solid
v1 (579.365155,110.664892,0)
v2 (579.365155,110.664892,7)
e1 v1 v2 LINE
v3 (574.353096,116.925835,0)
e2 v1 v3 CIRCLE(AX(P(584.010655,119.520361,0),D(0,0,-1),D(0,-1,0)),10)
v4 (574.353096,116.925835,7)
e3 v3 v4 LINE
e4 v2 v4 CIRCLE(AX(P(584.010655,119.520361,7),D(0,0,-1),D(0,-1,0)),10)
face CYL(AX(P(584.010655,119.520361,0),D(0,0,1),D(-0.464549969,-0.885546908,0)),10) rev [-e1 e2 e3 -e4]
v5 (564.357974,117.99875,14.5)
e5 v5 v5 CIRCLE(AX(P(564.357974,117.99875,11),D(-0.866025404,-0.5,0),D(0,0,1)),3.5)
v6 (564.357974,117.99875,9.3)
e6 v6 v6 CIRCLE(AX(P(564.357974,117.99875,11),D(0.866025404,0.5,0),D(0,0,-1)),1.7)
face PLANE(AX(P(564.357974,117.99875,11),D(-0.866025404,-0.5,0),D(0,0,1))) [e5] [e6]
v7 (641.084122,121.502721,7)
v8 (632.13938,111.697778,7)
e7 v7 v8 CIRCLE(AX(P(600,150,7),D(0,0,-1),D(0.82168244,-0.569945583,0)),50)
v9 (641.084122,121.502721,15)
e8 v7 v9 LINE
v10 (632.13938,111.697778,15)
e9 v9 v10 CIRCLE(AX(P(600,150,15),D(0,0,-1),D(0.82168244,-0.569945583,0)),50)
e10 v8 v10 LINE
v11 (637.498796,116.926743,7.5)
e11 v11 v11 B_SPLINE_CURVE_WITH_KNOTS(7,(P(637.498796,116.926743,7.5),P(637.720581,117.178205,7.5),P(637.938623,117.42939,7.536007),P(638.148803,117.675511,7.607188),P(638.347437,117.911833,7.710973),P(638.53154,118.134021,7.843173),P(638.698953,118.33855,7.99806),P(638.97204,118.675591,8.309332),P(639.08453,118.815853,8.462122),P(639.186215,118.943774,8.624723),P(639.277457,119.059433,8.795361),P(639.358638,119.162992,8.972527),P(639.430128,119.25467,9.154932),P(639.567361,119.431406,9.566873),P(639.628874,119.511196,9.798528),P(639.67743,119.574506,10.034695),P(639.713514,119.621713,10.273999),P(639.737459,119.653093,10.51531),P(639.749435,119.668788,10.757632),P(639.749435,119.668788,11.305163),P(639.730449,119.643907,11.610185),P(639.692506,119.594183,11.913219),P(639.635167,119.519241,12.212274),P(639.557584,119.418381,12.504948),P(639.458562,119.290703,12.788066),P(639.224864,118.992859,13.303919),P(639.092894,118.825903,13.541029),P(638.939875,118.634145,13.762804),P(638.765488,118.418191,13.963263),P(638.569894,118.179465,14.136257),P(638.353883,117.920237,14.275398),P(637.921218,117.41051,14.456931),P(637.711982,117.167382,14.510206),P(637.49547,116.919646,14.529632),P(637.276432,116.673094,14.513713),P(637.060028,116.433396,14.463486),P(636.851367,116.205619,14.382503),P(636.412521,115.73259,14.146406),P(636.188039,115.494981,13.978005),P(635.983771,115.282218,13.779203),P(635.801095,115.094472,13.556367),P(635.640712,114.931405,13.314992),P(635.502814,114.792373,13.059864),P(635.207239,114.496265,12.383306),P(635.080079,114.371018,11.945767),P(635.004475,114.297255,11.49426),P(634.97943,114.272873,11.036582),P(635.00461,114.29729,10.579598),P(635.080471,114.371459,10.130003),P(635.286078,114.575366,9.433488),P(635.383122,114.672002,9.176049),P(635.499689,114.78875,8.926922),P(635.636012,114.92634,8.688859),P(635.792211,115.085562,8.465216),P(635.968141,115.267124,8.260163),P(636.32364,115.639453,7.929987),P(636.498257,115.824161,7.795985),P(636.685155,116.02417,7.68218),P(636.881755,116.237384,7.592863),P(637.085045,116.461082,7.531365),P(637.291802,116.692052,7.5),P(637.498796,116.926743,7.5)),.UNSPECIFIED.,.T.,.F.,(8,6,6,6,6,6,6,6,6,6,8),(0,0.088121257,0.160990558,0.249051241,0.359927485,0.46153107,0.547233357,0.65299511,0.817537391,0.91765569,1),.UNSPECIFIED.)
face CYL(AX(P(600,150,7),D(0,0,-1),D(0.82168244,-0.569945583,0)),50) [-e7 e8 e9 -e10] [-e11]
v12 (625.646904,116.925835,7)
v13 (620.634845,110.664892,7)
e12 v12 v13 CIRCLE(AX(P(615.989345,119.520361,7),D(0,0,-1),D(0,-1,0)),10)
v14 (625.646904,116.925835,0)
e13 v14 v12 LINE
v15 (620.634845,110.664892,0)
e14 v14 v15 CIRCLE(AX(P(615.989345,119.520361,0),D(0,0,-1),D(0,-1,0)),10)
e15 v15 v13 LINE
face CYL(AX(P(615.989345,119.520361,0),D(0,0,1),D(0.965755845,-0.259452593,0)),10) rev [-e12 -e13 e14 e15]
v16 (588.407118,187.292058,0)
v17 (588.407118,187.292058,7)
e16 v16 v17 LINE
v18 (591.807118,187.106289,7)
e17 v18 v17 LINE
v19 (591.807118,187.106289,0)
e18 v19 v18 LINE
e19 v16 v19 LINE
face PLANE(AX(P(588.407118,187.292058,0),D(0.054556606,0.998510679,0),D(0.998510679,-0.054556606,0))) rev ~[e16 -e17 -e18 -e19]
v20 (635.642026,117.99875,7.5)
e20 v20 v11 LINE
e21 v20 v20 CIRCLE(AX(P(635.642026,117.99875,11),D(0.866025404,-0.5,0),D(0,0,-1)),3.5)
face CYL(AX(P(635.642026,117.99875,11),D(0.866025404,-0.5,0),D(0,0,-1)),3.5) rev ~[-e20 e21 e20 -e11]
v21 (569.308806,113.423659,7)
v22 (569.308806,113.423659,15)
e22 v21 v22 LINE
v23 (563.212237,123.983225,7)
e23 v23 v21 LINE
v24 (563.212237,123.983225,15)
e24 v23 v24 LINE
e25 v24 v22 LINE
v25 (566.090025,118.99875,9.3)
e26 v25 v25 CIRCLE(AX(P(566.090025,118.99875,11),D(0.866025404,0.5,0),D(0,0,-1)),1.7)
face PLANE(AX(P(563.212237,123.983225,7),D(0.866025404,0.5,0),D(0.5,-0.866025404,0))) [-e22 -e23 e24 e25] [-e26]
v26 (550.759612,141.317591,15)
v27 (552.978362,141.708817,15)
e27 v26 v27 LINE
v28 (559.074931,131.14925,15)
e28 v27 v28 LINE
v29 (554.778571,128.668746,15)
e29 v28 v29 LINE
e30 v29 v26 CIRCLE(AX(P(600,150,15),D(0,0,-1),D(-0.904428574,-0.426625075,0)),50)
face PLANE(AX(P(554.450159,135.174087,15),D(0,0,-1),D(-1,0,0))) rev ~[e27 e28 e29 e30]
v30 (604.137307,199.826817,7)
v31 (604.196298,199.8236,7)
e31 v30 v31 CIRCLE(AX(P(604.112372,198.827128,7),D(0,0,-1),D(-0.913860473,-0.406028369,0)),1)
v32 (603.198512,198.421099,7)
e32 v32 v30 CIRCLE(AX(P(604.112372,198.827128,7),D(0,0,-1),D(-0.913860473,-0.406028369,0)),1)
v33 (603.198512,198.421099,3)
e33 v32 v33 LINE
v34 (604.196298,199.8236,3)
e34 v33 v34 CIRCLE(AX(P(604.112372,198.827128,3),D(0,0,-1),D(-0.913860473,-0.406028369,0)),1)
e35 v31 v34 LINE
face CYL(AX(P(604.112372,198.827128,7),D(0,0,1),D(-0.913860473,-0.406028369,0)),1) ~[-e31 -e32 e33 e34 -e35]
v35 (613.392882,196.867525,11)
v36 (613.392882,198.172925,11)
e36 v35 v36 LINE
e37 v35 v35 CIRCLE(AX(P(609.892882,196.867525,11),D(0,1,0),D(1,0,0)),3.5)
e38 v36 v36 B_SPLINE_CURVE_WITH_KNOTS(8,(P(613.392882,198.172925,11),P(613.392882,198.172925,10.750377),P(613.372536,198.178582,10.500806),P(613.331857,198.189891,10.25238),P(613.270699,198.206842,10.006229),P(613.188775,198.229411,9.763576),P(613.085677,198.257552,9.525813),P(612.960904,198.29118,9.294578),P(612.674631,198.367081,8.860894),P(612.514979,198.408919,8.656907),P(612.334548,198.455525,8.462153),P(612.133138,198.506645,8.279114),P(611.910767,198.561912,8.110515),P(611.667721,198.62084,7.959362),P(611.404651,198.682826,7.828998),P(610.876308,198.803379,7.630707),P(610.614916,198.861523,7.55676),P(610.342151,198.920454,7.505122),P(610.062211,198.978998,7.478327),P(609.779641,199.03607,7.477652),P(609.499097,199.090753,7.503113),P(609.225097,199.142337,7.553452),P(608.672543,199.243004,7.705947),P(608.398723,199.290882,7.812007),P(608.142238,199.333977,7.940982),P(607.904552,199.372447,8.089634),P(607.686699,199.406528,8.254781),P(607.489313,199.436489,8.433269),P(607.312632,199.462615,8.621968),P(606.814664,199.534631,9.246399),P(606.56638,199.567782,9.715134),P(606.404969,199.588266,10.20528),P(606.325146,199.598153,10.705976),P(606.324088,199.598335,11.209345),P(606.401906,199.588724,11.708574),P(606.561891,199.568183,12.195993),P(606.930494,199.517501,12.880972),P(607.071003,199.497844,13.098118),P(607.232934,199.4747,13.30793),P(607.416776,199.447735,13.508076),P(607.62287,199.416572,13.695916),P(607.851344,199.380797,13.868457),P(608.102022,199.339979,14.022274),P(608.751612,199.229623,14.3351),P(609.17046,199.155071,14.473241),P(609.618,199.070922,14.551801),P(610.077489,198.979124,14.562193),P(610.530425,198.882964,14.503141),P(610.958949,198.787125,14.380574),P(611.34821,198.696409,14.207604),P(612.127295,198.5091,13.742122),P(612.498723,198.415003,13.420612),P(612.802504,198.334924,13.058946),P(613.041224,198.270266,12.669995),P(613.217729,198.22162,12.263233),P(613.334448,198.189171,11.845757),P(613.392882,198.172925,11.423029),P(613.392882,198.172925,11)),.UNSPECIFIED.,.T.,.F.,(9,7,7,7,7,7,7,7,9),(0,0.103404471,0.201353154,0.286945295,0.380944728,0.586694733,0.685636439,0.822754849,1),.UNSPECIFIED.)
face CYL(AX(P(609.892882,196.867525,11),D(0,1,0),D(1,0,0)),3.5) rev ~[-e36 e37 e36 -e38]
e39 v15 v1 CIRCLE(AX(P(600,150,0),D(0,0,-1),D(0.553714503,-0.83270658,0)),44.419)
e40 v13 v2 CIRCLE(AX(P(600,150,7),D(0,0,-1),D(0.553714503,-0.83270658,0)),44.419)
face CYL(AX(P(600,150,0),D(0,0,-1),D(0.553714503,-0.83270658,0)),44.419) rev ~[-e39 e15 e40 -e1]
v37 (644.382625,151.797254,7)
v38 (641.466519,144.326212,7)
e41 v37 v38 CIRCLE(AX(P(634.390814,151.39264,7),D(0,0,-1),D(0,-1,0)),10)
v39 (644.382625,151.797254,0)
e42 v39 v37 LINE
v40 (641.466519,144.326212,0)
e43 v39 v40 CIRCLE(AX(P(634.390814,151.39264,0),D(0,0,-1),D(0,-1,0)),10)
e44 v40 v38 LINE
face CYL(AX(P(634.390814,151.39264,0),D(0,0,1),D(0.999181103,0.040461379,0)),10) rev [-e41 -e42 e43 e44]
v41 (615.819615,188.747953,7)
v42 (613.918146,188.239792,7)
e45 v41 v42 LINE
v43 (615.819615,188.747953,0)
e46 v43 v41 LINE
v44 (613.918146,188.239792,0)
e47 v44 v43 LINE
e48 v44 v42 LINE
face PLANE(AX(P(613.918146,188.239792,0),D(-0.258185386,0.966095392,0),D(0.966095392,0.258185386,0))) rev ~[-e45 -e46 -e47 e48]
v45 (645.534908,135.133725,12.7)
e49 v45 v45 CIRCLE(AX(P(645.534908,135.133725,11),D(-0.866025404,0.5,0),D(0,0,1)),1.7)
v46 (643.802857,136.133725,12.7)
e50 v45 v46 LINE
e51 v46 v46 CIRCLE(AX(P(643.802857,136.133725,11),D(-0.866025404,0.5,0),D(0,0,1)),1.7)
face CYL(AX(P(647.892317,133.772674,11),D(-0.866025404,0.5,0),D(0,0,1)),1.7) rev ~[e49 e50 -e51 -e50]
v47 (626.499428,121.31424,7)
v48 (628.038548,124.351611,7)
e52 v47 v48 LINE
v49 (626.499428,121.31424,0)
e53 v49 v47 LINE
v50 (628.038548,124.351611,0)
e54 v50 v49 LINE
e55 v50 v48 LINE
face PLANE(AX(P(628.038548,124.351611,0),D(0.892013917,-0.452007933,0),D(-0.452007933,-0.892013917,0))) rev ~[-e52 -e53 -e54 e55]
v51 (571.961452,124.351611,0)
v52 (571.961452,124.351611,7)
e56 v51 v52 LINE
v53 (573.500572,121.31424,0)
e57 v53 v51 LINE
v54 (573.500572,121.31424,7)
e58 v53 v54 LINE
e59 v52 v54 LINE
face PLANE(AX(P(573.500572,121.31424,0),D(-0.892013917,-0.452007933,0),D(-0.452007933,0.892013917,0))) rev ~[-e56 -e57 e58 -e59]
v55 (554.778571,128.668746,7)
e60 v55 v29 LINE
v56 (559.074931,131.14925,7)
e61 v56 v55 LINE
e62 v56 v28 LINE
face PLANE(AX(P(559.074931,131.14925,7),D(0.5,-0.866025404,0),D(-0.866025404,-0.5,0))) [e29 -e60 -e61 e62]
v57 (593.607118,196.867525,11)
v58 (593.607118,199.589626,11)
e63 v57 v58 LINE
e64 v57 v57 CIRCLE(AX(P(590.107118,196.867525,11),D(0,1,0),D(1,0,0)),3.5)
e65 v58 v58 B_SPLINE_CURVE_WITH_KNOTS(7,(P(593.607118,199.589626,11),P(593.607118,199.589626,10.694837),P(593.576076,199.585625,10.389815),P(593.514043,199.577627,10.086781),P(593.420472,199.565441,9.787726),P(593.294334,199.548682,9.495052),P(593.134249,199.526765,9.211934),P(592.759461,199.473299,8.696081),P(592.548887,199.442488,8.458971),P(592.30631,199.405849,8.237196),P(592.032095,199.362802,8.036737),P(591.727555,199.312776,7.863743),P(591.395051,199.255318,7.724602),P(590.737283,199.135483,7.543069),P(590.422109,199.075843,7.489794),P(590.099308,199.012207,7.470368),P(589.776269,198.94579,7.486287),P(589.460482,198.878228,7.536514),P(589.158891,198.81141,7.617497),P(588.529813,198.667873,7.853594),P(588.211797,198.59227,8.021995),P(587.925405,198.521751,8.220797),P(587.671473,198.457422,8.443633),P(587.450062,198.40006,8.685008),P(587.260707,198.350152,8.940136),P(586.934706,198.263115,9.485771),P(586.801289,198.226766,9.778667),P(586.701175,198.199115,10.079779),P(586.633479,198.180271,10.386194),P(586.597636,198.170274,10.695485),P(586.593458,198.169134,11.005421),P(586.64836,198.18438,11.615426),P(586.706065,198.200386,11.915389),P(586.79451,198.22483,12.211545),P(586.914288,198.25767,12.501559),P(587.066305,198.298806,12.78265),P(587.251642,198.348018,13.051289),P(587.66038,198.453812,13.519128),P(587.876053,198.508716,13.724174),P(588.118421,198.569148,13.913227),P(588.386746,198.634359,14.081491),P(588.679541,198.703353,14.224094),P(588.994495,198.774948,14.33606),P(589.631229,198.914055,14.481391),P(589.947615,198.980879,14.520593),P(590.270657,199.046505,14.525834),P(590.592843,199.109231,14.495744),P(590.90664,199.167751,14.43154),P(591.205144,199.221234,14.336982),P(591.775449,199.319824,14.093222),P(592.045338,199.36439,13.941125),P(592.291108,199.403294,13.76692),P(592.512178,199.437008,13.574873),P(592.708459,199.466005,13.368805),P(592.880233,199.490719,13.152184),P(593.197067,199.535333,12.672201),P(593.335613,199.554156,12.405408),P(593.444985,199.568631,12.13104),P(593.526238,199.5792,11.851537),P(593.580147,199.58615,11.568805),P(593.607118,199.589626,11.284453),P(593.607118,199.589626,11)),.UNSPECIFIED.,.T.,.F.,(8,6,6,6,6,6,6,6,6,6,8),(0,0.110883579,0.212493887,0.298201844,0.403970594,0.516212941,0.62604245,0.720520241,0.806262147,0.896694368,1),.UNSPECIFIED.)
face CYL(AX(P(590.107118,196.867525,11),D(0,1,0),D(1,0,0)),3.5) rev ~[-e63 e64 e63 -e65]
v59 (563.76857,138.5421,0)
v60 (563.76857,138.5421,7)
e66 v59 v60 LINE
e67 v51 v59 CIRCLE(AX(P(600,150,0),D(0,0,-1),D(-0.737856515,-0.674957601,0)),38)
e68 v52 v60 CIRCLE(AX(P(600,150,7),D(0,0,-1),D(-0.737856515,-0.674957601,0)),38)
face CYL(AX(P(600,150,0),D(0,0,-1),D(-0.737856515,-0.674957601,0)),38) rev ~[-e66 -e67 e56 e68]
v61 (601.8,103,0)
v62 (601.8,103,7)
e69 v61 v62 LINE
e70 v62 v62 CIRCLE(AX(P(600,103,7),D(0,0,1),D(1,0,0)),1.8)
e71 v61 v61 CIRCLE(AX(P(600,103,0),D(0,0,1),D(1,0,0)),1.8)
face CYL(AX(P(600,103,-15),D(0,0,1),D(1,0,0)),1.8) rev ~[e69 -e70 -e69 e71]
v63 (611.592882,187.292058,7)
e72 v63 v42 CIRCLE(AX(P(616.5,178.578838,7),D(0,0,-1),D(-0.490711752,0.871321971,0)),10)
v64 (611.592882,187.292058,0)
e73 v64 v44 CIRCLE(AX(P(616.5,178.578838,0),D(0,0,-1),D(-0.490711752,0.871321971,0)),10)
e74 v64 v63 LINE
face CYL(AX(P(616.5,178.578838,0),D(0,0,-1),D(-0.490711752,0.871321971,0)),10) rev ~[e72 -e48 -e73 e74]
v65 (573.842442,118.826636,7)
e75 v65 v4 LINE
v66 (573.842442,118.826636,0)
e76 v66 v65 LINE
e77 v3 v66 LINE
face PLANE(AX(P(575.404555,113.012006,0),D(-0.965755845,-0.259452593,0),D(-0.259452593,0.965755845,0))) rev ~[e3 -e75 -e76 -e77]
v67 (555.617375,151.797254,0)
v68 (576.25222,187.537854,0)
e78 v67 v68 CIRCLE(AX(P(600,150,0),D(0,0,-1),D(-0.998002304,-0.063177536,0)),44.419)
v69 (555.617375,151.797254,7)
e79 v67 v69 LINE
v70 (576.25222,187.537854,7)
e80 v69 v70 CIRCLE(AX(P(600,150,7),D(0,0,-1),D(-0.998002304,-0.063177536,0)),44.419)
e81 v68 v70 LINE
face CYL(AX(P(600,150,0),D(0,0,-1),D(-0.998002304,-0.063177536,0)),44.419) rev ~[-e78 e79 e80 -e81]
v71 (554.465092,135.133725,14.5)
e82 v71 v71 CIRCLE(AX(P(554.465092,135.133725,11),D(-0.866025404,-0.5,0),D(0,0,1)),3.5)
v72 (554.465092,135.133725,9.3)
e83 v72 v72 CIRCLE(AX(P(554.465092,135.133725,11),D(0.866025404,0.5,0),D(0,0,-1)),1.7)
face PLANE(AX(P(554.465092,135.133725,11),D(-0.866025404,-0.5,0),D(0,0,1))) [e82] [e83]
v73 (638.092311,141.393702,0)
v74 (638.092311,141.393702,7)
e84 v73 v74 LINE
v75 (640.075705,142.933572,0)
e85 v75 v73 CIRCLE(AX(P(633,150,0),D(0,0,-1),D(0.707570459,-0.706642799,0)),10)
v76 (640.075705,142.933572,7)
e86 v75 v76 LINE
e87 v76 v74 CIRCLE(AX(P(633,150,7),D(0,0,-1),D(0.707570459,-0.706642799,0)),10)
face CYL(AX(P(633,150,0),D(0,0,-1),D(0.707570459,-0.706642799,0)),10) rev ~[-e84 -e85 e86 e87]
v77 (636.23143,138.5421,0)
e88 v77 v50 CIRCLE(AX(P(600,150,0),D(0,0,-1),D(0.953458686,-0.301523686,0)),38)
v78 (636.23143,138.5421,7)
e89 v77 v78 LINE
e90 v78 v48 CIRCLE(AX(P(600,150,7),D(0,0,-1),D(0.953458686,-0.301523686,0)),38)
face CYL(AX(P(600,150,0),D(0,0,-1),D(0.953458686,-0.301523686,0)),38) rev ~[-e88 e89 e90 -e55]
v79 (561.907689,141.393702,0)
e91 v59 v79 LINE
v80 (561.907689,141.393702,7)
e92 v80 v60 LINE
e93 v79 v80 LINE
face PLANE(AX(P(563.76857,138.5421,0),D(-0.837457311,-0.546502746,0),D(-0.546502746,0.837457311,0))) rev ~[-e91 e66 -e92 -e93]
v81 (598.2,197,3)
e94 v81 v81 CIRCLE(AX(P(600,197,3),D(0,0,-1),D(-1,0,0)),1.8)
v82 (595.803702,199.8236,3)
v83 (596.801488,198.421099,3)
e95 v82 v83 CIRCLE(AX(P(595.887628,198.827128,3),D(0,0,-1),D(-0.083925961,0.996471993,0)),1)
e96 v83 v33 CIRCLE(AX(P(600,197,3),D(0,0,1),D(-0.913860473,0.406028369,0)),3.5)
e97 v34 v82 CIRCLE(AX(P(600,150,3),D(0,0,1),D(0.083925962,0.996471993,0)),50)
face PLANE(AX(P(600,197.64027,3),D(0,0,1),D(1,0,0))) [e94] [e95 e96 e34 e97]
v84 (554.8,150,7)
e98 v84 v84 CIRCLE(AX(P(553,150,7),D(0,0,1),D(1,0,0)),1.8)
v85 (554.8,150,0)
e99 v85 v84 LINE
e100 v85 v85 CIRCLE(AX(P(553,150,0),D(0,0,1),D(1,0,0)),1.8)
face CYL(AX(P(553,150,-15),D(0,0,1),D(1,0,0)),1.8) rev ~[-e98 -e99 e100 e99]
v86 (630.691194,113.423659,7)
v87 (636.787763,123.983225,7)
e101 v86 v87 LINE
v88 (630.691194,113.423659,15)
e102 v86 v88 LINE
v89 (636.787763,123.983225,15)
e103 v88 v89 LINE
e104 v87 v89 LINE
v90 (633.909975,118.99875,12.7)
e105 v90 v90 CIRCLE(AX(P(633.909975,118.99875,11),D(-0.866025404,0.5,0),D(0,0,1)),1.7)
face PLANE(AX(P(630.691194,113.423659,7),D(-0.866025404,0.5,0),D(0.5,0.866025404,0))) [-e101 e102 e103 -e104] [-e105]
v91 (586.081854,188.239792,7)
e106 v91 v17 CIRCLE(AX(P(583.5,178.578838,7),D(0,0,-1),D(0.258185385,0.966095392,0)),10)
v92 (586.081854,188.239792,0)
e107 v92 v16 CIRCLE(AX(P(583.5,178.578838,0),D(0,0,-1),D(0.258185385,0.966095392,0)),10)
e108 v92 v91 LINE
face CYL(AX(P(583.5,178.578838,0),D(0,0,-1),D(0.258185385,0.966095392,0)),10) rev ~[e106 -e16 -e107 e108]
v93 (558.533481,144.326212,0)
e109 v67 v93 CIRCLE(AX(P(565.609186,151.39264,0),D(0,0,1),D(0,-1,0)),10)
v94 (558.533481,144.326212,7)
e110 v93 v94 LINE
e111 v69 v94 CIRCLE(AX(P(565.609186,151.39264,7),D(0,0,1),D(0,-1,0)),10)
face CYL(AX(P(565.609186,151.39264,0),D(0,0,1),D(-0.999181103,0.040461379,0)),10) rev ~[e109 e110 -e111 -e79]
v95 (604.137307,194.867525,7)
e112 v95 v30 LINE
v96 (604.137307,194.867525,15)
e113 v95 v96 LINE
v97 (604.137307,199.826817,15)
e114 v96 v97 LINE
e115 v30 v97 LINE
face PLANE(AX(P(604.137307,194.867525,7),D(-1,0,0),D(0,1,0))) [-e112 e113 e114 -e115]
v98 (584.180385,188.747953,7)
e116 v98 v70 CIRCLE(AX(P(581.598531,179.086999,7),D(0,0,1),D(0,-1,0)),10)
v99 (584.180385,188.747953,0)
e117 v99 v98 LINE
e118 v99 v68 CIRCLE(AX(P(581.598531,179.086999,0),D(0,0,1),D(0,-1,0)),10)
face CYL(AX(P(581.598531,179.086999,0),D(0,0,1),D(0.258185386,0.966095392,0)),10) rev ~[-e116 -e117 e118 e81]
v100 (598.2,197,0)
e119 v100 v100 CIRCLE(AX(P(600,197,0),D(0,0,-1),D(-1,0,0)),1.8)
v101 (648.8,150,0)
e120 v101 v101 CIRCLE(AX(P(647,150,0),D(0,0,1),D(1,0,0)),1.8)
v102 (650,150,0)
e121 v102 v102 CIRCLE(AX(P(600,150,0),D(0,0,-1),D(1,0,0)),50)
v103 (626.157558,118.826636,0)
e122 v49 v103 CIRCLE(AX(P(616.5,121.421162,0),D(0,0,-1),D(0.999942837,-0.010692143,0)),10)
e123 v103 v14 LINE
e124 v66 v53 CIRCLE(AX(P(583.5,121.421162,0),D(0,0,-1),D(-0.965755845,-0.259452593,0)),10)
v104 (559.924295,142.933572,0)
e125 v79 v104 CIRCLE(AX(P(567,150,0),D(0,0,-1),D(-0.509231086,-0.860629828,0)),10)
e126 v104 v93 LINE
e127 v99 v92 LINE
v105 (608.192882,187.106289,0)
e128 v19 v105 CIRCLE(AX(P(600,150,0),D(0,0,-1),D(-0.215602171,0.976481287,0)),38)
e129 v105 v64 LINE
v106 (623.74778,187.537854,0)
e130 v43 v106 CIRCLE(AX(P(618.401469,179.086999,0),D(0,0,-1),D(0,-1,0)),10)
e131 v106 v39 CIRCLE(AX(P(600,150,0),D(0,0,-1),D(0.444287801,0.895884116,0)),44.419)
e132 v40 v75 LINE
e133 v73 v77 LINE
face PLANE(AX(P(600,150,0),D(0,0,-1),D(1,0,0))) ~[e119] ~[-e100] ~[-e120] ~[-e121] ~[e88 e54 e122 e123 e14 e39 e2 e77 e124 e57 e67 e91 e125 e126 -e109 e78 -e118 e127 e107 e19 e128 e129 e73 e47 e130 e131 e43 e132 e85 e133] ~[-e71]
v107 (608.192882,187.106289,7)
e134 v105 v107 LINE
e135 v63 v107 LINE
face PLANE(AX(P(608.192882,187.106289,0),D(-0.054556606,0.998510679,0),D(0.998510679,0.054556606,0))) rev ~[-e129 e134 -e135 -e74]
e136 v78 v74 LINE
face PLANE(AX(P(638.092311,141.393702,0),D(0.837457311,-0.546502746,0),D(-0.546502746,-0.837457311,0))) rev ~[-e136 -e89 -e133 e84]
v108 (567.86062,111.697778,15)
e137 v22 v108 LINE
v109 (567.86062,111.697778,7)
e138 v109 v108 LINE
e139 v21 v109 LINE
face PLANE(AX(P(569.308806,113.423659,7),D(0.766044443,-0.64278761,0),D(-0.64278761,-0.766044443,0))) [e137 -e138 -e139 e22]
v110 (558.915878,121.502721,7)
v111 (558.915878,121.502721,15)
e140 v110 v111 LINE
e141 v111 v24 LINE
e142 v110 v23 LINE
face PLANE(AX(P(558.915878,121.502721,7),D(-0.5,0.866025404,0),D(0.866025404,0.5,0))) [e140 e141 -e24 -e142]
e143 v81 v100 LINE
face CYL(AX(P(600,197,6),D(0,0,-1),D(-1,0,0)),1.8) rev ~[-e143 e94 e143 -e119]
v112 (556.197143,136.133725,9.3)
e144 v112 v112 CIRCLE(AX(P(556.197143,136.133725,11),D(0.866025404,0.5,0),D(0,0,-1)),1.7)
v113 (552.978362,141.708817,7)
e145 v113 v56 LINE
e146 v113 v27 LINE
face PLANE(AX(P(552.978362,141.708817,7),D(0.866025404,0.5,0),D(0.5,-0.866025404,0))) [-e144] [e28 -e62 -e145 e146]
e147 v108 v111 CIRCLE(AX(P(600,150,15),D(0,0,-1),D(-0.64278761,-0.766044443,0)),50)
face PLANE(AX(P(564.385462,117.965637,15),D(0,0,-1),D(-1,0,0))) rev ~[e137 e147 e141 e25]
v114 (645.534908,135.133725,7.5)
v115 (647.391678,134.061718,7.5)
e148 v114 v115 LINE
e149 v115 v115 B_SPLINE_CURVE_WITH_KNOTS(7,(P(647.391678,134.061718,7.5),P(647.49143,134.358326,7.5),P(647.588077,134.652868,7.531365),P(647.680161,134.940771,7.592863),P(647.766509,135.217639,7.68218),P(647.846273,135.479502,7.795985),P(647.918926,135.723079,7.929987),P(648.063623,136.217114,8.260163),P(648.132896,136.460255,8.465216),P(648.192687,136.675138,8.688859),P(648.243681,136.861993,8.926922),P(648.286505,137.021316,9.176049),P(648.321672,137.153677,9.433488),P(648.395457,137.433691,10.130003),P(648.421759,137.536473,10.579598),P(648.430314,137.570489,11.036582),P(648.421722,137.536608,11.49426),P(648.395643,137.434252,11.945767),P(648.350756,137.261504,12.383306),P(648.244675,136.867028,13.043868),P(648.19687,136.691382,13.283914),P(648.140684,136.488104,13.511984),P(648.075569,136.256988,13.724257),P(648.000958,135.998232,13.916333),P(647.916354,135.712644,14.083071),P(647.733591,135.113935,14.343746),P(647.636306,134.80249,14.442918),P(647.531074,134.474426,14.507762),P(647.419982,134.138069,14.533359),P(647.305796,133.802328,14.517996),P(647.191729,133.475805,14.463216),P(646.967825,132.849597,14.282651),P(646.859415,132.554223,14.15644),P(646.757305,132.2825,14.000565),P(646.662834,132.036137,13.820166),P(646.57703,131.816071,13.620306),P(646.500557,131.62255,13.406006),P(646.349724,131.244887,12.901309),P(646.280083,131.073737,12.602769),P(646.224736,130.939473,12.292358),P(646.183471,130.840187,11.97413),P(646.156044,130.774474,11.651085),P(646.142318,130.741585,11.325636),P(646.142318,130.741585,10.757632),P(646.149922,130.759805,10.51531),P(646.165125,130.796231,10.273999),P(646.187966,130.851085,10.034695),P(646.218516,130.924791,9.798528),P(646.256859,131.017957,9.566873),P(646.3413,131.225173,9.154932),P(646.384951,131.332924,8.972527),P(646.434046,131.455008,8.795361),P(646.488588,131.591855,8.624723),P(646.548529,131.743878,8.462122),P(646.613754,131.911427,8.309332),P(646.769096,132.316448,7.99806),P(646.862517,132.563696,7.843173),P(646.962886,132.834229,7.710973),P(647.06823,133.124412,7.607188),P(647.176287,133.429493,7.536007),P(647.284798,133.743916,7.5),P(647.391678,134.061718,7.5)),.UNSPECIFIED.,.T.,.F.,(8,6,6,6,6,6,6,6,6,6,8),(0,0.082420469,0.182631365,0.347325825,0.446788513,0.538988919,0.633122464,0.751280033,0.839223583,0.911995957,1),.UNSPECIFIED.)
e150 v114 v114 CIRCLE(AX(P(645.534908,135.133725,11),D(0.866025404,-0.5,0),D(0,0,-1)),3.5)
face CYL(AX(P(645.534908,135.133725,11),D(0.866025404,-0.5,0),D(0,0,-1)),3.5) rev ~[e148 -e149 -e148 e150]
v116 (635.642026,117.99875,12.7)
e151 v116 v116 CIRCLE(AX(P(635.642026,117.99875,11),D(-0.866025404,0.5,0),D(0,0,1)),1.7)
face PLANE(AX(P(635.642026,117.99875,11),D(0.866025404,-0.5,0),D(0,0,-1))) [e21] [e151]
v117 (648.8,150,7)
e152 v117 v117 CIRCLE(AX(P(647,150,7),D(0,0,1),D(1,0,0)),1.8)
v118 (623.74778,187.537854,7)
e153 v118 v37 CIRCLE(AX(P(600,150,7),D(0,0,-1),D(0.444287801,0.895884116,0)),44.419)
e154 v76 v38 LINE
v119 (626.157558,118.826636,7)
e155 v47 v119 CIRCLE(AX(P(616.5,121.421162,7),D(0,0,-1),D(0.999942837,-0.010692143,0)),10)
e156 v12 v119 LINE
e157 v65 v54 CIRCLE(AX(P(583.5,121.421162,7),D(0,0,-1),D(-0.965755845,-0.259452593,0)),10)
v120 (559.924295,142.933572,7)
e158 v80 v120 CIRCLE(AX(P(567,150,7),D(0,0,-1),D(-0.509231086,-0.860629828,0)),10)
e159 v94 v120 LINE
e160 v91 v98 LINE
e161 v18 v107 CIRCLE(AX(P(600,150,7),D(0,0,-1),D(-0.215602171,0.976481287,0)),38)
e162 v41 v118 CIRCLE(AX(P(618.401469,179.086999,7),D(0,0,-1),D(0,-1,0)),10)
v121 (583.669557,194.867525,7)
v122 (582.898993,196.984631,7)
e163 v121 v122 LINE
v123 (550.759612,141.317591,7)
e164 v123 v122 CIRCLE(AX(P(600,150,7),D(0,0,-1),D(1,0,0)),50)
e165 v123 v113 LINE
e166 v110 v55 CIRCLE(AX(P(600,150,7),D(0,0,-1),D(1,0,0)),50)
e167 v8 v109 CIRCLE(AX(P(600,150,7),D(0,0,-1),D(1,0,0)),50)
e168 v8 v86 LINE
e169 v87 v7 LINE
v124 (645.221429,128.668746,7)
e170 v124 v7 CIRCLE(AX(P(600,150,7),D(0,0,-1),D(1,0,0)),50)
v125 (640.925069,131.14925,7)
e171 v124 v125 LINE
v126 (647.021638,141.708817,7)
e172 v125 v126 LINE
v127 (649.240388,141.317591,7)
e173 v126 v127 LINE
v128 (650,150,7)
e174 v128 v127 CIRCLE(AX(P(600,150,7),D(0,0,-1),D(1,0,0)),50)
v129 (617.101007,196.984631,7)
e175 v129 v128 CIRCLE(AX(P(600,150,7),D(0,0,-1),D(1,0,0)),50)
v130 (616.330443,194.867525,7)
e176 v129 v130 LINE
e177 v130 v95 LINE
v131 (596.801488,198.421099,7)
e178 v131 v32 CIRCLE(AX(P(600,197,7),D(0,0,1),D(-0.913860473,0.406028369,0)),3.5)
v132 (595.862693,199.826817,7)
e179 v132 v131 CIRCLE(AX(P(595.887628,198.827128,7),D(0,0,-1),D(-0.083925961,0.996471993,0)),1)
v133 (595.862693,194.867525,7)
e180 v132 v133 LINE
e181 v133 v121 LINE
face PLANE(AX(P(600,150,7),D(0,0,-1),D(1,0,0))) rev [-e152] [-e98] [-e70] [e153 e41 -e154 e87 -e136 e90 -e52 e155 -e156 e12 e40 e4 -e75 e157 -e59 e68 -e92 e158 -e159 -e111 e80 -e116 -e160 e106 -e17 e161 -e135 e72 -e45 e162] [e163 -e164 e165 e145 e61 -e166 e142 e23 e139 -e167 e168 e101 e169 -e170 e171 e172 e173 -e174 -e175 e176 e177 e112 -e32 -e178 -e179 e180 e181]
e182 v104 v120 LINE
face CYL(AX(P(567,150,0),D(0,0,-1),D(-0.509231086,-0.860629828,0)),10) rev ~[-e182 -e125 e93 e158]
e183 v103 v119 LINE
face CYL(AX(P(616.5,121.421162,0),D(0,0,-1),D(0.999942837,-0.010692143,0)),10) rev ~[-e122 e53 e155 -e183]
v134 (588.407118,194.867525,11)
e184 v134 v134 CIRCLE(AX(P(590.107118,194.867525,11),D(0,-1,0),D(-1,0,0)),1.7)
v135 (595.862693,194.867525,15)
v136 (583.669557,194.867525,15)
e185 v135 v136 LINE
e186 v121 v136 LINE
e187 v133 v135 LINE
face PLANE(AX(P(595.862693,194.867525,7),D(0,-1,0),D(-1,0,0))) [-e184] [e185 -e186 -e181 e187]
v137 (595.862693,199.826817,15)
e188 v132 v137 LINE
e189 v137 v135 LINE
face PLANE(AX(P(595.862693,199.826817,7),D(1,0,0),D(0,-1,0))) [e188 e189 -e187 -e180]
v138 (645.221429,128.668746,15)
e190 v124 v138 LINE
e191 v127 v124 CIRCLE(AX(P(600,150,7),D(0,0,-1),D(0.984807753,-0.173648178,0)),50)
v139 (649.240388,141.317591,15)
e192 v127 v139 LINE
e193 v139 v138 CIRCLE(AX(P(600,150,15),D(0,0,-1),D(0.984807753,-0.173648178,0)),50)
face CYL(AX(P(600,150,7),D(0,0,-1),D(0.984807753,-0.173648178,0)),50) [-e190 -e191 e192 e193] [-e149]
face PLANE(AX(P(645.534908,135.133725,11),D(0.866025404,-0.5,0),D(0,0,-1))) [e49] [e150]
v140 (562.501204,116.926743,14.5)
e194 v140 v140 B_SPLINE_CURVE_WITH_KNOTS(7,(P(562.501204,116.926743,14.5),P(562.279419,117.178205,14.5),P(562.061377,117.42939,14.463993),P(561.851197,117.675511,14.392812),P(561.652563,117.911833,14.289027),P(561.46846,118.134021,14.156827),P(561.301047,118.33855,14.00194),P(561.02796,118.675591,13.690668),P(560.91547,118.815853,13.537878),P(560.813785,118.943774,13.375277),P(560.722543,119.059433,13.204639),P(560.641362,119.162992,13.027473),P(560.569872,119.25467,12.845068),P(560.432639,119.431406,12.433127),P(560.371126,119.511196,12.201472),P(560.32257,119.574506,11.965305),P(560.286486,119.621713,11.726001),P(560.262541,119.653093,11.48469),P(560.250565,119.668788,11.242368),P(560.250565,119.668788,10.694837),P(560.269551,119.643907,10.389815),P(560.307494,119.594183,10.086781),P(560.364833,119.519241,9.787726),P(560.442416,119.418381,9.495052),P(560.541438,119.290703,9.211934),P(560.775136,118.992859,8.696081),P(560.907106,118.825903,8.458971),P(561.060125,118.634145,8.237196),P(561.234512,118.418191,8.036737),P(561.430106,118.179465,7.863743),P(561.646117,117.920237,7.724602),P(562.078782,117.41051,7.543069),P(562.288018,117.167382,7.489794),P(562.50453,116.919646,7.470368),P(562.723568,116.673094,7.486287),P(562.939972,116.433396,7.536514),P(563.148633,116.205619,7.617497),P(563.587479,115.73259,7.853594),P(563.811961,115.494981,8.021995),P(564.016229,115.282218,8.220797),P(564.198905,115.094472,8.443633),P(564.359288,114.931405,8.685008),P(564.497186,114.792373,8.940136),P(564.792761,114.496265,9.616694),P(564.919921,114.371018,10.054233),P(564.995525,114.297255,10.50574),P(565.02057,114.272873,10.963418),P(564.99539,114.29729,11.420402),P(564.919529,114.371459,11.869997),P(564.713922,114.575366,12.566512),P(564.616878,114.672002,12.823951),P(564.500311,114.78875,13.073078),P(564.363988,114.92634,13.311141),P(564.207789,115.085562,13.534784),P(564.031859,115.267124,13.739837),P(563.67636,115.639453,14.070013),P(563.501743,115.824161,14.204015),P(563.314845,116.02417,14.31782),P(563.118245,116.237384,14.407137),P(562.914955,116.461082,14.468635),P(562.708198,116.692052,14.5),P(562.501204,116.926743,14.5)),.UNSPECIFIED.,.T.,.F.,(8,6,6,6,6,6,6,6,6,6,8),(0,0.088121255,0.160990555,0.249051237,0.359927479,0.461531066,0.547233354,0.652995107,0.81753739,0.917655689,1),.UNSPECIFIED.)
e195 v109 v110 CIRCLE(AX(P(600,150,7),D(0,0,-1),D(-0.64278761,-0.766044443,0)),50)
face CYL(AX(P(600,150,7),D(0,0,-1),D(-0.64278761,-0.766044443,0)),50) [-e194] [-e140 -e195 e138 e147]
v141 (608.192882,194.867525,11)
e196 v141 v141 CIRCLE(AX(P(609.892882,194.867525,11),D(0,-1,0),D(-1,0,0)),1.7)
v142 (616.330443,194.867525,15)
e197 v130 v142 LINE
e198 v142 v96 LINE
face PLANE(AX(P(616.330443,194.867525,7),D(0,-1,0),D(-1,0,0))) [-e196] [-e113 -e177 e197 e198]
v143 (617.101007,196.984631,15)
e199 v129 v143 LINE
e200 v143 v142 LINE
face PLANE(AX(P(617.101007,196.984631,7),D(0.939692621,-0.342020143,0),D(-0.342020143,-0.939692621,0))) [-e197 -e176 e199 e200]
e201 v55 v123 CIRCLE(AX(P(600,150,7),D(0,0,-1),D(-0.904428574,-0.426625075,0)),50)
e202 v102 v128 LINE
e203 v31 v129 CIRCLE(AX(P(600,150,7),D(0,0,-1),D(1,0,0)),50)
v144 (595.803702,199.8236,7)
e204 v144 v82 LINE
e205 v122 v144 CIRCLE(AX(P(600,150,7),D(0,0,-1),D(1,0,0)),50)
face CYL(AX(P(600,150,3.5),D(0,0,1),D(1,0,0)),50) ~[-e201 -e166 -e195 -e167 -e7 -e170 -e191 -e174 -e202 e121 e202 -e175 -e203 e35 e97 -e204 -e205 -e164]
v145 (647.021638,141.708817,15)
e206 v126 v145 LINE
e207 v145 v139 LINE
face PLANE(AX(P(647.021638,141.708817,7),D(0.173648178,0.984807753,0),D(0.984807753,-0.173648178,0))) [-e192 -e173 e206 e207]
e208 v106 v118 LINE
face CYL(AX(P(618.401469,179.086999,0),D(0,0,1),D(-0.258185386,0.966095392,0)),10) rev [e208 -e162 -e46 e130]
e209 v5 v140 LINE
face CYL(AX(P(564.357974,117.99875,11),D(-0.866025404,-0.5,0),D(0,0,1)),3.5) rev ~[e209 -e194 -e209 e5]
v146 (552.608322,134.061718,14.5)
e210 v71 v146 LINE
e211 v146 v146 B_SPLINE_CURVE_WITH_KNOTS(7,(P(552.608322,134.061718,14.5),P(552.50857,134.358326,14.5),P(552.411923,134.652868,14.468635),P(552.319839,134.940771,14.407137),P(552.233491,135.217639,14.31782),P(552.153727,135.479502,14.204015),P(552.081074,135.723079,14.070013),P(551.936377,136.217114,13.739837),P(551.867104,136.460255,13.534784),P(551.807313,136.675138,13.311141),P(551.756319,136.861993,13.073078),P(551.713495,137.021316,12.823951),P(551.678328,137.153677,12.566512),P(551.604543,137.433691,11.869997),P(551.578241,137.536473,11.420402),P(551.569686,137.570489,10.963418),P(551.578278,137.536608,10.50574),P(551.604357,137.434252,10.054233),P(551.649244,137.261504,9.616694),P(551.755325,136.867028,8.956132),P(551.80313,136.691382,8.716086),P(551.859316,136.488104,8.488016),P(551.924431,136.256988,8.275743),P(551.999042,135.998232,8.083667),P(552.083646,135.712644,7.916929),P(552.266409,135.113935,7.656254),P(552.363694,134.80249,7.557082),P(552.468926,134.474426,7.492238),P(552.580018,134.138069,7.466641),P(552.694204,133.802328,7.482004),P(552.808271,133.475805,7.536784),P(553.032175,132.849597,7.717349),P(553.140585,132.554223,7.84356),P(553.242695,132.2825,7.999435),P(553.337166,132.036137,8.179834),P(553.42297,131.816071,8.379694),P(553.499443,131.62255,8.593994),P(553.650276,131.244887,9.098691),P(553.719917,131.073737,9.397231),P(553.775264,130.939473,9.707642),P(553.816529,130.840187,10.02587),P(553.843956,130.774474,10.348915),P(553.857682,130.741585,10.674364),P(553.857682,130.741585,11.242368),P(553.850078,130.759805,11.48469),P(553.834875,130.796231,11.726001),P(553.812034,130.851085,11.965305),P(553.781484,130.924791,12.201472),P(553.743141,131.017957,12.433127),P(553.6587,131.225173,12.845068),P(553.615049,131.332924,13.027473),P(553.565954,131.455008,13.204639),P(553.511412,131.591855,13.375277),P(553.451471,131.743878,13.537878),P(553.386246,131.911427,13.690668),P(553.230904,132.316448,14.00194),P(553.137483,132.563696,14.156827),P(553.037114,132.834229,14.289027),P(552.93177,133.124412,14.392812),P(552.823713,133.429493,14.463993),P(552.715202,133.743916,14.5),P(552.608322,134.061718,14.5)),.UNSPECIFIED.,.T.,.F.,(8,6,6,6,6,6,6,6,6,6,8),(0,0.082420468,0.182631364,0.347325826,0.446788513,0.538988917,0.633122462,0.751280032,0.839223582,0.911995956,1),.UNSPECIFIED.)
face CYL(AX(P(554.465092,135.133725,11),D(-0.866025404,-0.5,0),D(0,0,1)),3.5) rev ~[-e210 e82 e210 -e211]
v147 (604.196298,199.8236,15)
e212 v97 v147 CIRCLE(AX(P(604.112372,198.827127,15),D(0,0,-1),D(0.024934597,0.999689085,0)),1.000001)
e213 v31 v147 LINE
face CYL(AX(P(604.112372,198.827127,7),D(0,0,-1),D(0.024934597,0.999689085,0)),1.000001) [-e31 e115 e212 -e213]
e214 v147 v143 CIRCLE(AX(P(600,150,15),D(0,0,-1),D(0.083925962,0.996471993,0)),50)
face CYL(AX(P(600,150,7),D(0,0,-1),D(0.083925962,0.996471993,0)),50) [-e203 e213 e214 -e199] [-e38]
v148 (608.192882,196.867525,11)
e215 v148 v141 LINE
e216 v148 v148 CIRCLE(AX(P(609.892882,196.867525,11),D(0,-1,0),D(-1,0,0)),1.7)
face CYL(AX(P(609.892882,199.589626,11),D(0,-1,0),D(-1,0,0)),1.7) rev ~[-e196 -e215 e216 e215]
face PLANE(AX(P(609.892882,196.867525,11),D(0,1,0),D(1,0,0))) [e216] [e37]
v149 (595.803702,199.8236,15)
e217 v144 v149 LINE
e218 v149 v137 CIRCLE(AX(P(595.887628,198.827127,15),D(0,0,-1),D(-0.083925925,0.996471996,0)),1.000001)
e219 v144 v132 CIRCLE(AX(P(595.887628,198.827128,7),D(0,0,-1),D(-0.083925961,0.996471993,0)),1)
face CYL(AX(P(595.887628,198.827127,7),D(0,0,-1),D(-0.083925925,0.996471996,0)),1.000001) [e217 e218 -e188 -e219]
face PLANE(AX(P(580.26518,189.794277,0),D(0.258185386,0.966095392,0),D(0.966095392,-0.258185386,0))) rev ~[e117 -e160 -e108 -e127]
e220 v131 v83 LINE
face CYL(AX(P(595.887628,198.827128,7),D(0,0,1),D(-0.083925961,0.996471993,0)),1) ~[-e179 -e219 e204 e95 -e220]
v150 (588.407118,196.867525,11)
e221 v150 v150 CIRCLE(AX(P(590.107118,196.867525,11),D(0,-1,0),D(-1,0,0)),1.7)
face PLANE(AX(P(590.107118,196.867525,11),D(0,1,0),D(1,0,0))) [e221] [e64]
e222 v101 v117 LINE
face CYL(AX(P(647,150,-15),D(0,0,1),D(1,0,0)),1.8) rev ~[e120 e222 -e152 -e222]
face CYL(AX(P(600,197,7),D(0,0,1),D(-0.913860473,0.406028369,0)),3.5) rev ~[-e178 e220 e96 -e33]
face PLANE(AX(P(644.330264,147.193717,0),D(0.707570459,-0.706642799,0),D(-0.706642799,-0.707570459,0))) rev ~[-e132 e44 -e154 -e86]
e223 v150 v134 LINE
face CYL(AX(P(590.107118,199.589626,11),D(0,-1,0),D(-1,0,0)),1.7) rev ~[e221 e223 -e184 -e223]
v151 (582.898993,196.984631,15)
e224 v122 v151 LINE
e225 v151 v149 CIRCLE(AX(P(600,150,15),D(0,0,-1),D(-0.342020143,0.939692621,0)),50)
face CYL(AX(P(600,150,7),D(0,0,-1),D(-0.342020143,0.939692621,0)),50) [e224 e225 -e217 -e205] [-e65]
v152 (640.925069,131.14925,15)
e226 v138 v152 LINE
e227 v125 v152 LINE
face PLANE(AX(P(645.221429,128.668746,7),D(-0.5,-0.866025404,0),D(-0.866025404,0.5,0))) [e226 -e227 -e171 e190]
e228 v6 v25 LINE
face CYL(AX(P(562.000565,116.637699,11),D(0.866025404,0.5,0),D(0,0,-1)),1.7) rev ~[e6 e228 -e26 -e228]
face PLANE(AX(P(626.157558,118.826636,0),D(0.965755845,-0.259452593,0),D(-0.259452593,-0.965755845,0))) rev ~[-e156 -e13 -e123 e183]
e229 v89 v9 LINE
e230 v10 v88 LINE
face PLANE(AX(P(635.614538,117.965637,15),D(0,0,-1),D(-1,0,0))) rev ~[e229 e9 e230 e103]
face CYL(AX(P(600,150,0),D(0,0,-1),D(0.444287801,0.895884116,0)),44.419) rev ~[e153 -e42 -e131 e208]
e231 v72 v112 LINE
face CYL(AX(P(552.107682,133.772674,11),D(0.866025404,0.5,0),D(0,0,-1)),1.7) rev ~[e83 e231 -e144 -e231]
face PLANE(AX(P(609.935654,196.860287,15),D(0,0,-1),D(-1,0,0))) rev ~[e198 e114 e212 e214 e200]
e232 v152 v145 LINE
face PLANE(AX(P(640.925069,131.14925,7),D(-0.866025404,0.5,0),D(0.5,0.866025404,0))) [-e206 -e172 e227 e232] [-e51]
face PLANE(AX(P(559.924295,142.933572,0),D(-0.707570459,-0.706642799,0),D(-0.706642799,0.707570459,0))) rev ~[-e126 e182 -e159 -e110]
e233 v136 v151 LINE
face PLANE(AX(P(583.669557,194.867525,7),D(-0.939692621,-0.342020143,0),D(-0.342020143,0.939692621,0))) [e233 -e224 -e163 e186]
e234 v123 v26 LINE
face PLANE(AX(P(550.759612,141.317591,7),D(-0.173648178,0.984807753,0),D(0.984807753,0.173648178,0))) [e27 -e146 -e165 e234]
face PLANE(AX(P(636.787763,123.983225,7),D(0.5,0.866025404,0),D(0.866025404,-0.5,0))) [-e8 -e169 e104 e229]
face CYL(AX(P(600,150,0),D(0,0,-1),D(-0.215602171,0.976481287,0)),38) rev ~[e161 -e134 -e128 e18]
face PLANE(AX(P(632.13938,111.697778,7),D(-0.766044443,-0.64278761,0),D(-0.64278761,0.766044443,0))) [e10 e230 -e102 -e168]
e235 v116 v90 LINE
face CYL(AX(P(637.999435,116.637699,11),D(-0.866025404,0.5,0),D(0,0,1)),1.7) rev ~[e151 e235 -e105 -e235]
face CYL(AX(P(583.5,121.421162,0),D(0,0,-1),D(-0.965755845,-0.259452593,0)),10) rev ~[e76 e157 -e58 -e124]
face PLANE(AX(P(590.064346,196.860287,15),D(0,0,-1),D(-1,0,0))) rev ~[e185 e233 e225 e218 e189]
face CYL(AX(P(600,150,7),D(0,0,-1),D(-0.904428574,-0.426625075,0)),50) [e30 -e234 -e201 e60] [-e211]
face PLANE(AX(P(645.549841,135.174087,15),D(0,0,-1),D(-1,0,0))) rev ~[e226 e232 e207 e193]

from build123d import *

# Parameters (mm, degrees)
SKETCH_1_W                   = 50
SKETCH_1_H                   = 7
CUT_EXTRUDE_1_DEPTH          = 4
CUT_EXTRUDE_2_DEPTH          = 8
EXTRUDE_1_DEPTH              = 8
EXTRUDE_2_DEPTH              = 8
EXTRUDE_3_DEPTH              = 8
EXTRUDE_4_DEPTH              = 8
EXTRUDE_5_DEPTH              = 8
EXTRUDE_6_DEPTH              = 8
HOLE_WIZARD_M3_1_D           = 3.4
HOLE_WIZARD_M3_1_DEPTH       = 117.890896659
HOLE_WIZARD_M3_1_CBORE_D     = 7
HOLE_WIZARD_M3_1_CBORE_DEPTH = 2.722101968
HOLE_WIZARD_M3_2_D           = 3.4
HOLE_WIZARD_M3_2_DEPTH       = 117.890896659
HOLE_WIZARD_M3_2_CBORE_D     = 7
HOLE_WIZARD_M3_2_CBORE_DEPTH = 2.722101968
HOLE_WIZARD_M3_3_D           = 3.4
HOLE_WIZARD_M3_3_DEPTH       = 99.58962647
HOLE_WIZARD_M3_3_CBORE_D     = 7
HOLE_WIZARD_M3_3_CBORE_DEPTH = 2.722101968
HOLE_WIZARD_3_6_3_6_1_D      = 3.6
HOLE_WIZARD_3_6_3_6_1_DEPTH  = 15
HOLE_WIZARD_3_6_3_6_2_D      = 3.6
HOLE_WIZARD_3_6_3_6_2_DEPTH  = 3
FILLET_1_R                   = 10


with BuildPart() as part:
    # 草图1 → 旋转1 (revolve)
    with BuildSketch(Plane.XZ.offset(-150)):
        with Locations((625, 3.5)):
            Rectangle(SKETCH_1_W, SKETCH_1_H)
    revolve(axis=Axis((600, 150, 7), (0, 0, -1)))

    # 草图2 → 切除-拉伸1 (cut)
    with BuildSketch(Plane.XY.offset(7)):
        with BuildLine():
            ThreePointArc((595.803701911, 199.823599653), (596.702458922, 199.406826168), (596.801488345, 198.421099291))
            ThreePointArc((596.801488345, 198.421099291), (600, 193.5), (603.198511655, 198.421099291))
            ThreePointArc((603.198511655, 198.421099291), (603.297541078, 199.406826168), (604.196298089, 199.823599653))
            ThreePointArc((604.196298089, 199.823599653), (600, 200), (595.803701911, 199.823599653))
        make_face()
    extrude(amount=-CUT_EXTRUDE_1_DEPTH, mode=Mode.SUBTRACT)

    # 草图3 → 切除-拉伸2 (cut, through all)
    with BuildSketch(Plane(origin=(0, 0, 0), x_dir=(-1, 0, 0), z_dir=(0, 0, -1))):
        with BuildLine():
            Line((-613.918146142, 188.239792245), (-619.734819826, 189.794276566))
            ThreePointArc((-619.734819826, 189.794276566), (-638.467982411, 172.2095), (-644.330264345, 147.193717025))
            Line((-644.330264345, 147.193717025), (-640.075704591, 142.93357201))
            ThreePointArc((-640.075704591, 142.93357201), (-639.132532117, 142.101136168), (-638.092310865, 141.393701722))
            Line((-638.092310865, 141.393701722), (-636.23143008, 138.542099914))
            ThreePointArc((-636.23143008, 138.542099914), (-632.908965344, 131), (-628.038547588, 124.351611178))
            Line((-628.038547588, 124.351611178), (-626.499428374, 121.314240241))
            ThreePointArc((-626.499428374, 121.314240241), (-626.406882798, 120.059664989), (-626.157558449, 118.826635745))
            Line((-626.157558449, 118.826635745), (-624.595444519, 113.012006408))
            ThreePointArc((-624.595444519, 113.012006408), (-600, 105.581), (-575.404555481, 113.012006408))
            Line((-575.404555481, 113.012006408), (-573.842441551, 118.826635745))
            ThreePointArc((-573.842441551, 118.826635745), (-573.593117202, 120.059664989), (-573.500571626, 121.314240241))
            Line((-573.500571626, 121.314240241), (-571.961452412, 124.351611178))
            ThreePointArc((-571.961452412, 124.351611178), (-567.091034656, 131), (-563.76856992, 138.542099914))
            Line((-563.76856992, 138.542099914), (-561.907689135, 141.393701722))
            ThreePointArc((-561.907689135, 141.393701722), (-560.867467883, 142.101136168), (-559.924295409, 142.93357201))
            Line((-559.924295409, 142.93357201), (-555.669735655, 147.193717025))
            ThreePointArc((-555.669735655, 147.193717025), (-561.532017589, 172.2095), (-580.265180174, 189.794276566))
            Line((-580.265180174, 189.794276566), (-586.081853858, 188.239792245))
            ThreePointArc((-586.081853858, 188.239792245), (-587.274350681, 187.839198844), (-588.407117509, 187.292058037))
            Line((-588.407117509, 187.292058037), (-591.807117509, 187.106288907))
            ThreePointArc((-591.807117509, 187.106288907), (-600, 188), (-608.192882491, 187.106288907))
            Line((-608.192882491, 187.106288907), (-611.592882491, 187.292058037))
            ThreePointArc((-611.592882491, 187.292058037), (-612.725649319, 187.839198844), (-613.918146142, 188.239792245))
        make_face()
    extrude(amount=-CUT_EXTRUDE_2_DEPTH, mode=Mode.SUBTRACT)

    # 草图4 → 凸台-拉伸1 (add)
    with BuildSketch(Plane.XY.offset(7)):
        with BuildLine():
            Line((595.862693304, 199.826816745), (595.862693304, 194.867524502))
            Line((595.862693304, 194.867524502), (583.669556596, 194.867524502))
            Line((583.669556596, 194.867524502), (582.898992834, 196.984631039))
            ThreePointArc((582.898992834, 196.984631039), (589.257154079, 198.832276841), (595.803701911, 199.823599653))
            ThreePointArc((595.803701911, 199.823599653), (595.833173844, 199.825643938), (595.862693304, 199.826816745))
        make_face()
    extrude(amount=EXTRUDE_1_DEPTH)

    # 草图5 → 凸台-拉伸2 (add)
    with BuildSketch(Plane.XY.offset(7)):
        with BuildLine():
            Line((617.101007166, 196.984631039), (616.330443404, 194.867524502))
            Line((616.330443404, 194.867524502), (604.137306696, 194.867524502))
            Line((604.137306696, 194.867524502), (604.137306696, 199.826816745))
            ThreePointArc((604.137306696, 199.826816745), (604.166826156, 199.825643938), (604.196298089, 199.823599653))
            ThreePointArc((604.196298089, 199.823599653), (610.742845921, 198.832276841), (617.101007166, 196.984631039))
        make_face()
    extrude(amount=EXTRUDE_2_DEPTH)

    # 草图6 → 凸台-拉伸3 (add)
    with BuildSketch(Plane.XY.offset(7)):
        with BuildLine():
            Line((563.212237324, 123.983225047), (569.308805678, 113.423658906))
            Line((569.308805678, 113.423658906), (567.860619516, 111.697777844))
            ThreePointArc((567.860619516, 111.697777844), (563.061475995, 116.302144811), (558.915878003, 121.502720836))
            Line((558.915878003, 121.502720836), (563.212237324, 123.983225047))
        make_face()
    extrude(amount=EXTRUDE_3_DEPTH)

    # 草图7 → 凸台-拉伸4 (add)
    with BuildSketch(Plane.XY.offset(7)):
        with BuildLine():
            Line((559.074930628, 131.149250451), (554.778571307, 128.66874624))
            ThreePointArc((554.778571307, 128.66874624), (552.347539351, 134.859227428), (550.759612349, 141.317591117))
            Line((550.759612349, 141.317591117), (552.978362274, 141.708816592))
            Line((552.978362274, 141.708816592), (559.074930628, 131.149250451))
        make_face()
    extrude(amount=EXTRUDE_4_DEPTH)

    # 草图8 → 凸台-拉伸5 (add)
    with BuildSketch(Plane.XY.offset(7)):
        with BuildLine():
            Line((640.925069372, 131.149250451), (647.021637726, 141.708816592))
            Line((647.021637726, 141.708816592), (649.240387651, 141.317591117))
            ThreePointArc((649.240387651, 141.317591117), (647.652460649, 134.859227428), (645.221428693, 128.66874624))
            Line((645.221428693, 128.66874624), (640.925069372, 131.149250451))
        make_face()
    extrude(amount=EXTRUDE_5_DEPTH)

    # 草图9 → 凸台-拉伸6 (add)
    with BuildSketch(Plane.XY.offset(7)):
        with BuildLine():
            Line((636.787762676, 123.983225047), (641.084121997, 121.502720836))
            ThreePointArc((641.084121997, 121.502720836), (636.938524005, 116.302144811), (632.139380484, 111.697777844))
            Line((632.139380484, 111.697777844), (630.691194322, 113.423658906))
            Line((630.691194322, 113.423658906), (636.787762676, 123.983225047))
        make_face()
    extrude(amount=EXTRUDE_6_DEPTH)

    # M3 六角头机械螺钉的柱形沉头孔1
    with Locations(Plane(origin=(427.993971004, -247.10243437, 0), x_dir=(0, 0, -1), z_dir=(0.866025404, -0.5, 0))):
        with Locations((-11, 420.010928076), (-11, 439.796693059)):
            CounterBoreHole(HOLE_WIZARD_M3_1_D / 2, HOLE_WIZARD_M3_1_CBORE_D / 2, HOLE_WIZARD_M3_1_CBORE_DEPTH, depth=HOLE_WIZARD_M3_1_DEPTH)

    # M3 六角头机械螺钉的柱形沉头孔2
    with Locations(Plane(origin=(472.006028996, 272.5128079, 0), x_dir=(0, 0, 1), z_dir=(-0.866025404, -0.5, 0))):
        with Locations((11, -160.203306941), (11, -179.989071924)):
            CounterBoreHole(HOLE_WIZARD_M3_2_D / 2, HOLE_WIZARD_M3_2_CBORE_D / 2, HOLE_WIZARD_M3_2_CBORE_DEPTH, depth=HOLE_WIZARD_M3_2_DEPTH)

    # M3 六角头机械螺钉的柱形沉头孔3
    with Locations(Plane(origin=(0, 199.58962647, 0), x_dir=(1, 0, 0), z_dir=(0, 1, 0))):
        with Locations((609.892882491, -11), (590.107117509, -11)):
            CounterBoreHole(HOLE_WIZARD_M3_3_D / 2, HOLE_WIZARD_M3_3_CBORE_D / 2, HOLE_WIZARD_M3_3_CBORE_DEPTH, depth=HOLE_WIZARD_M3_3_DEPTH)

    # Ø3.6 (3.6) 直径孔1
    with Locations(Plane(origin=(0, 0, 0), x_dir=(-1, 0, 0), z_dir=(0, 0, -1))):
        with Locations((-600, 103), (-647, 150), (-553, 150)):
            Hole(HOLE_WIZARD_3_6_3_6_1_D / 2, depth=HOLE_WIZARD_3_6_3_6_1_DEPTH)

    # Ø3.6 (3.6) 直径孔2
    with Locations(Plane.XY.offset(3)):
        with Locations((600, 197)):
            Hole(HOLE_WIZARD_3_6_3_6_2_D / 2, depth=HOLE_WIZARD_3_6_3_6_2_DEPTH)

    # 圆角1
    fillet_1_edges = [part.edges().sort_by_distance(p)[0] for p in [
        (580.265180174, 189.794276566, 3.5),
        (555.669735655, 147.193717025, 3.5),
        (575.404555481, 113.012006408, 3.5),
        (624.595444519, 113.012006408, 3.5),
        (644.330264345, 147.193717025, 3.5),
        (619.734819826, 189.794276566, 3.5),
    ]]
    fillet(fillet_1_edges, radius=FILLET_1_R)


solid = part.part
